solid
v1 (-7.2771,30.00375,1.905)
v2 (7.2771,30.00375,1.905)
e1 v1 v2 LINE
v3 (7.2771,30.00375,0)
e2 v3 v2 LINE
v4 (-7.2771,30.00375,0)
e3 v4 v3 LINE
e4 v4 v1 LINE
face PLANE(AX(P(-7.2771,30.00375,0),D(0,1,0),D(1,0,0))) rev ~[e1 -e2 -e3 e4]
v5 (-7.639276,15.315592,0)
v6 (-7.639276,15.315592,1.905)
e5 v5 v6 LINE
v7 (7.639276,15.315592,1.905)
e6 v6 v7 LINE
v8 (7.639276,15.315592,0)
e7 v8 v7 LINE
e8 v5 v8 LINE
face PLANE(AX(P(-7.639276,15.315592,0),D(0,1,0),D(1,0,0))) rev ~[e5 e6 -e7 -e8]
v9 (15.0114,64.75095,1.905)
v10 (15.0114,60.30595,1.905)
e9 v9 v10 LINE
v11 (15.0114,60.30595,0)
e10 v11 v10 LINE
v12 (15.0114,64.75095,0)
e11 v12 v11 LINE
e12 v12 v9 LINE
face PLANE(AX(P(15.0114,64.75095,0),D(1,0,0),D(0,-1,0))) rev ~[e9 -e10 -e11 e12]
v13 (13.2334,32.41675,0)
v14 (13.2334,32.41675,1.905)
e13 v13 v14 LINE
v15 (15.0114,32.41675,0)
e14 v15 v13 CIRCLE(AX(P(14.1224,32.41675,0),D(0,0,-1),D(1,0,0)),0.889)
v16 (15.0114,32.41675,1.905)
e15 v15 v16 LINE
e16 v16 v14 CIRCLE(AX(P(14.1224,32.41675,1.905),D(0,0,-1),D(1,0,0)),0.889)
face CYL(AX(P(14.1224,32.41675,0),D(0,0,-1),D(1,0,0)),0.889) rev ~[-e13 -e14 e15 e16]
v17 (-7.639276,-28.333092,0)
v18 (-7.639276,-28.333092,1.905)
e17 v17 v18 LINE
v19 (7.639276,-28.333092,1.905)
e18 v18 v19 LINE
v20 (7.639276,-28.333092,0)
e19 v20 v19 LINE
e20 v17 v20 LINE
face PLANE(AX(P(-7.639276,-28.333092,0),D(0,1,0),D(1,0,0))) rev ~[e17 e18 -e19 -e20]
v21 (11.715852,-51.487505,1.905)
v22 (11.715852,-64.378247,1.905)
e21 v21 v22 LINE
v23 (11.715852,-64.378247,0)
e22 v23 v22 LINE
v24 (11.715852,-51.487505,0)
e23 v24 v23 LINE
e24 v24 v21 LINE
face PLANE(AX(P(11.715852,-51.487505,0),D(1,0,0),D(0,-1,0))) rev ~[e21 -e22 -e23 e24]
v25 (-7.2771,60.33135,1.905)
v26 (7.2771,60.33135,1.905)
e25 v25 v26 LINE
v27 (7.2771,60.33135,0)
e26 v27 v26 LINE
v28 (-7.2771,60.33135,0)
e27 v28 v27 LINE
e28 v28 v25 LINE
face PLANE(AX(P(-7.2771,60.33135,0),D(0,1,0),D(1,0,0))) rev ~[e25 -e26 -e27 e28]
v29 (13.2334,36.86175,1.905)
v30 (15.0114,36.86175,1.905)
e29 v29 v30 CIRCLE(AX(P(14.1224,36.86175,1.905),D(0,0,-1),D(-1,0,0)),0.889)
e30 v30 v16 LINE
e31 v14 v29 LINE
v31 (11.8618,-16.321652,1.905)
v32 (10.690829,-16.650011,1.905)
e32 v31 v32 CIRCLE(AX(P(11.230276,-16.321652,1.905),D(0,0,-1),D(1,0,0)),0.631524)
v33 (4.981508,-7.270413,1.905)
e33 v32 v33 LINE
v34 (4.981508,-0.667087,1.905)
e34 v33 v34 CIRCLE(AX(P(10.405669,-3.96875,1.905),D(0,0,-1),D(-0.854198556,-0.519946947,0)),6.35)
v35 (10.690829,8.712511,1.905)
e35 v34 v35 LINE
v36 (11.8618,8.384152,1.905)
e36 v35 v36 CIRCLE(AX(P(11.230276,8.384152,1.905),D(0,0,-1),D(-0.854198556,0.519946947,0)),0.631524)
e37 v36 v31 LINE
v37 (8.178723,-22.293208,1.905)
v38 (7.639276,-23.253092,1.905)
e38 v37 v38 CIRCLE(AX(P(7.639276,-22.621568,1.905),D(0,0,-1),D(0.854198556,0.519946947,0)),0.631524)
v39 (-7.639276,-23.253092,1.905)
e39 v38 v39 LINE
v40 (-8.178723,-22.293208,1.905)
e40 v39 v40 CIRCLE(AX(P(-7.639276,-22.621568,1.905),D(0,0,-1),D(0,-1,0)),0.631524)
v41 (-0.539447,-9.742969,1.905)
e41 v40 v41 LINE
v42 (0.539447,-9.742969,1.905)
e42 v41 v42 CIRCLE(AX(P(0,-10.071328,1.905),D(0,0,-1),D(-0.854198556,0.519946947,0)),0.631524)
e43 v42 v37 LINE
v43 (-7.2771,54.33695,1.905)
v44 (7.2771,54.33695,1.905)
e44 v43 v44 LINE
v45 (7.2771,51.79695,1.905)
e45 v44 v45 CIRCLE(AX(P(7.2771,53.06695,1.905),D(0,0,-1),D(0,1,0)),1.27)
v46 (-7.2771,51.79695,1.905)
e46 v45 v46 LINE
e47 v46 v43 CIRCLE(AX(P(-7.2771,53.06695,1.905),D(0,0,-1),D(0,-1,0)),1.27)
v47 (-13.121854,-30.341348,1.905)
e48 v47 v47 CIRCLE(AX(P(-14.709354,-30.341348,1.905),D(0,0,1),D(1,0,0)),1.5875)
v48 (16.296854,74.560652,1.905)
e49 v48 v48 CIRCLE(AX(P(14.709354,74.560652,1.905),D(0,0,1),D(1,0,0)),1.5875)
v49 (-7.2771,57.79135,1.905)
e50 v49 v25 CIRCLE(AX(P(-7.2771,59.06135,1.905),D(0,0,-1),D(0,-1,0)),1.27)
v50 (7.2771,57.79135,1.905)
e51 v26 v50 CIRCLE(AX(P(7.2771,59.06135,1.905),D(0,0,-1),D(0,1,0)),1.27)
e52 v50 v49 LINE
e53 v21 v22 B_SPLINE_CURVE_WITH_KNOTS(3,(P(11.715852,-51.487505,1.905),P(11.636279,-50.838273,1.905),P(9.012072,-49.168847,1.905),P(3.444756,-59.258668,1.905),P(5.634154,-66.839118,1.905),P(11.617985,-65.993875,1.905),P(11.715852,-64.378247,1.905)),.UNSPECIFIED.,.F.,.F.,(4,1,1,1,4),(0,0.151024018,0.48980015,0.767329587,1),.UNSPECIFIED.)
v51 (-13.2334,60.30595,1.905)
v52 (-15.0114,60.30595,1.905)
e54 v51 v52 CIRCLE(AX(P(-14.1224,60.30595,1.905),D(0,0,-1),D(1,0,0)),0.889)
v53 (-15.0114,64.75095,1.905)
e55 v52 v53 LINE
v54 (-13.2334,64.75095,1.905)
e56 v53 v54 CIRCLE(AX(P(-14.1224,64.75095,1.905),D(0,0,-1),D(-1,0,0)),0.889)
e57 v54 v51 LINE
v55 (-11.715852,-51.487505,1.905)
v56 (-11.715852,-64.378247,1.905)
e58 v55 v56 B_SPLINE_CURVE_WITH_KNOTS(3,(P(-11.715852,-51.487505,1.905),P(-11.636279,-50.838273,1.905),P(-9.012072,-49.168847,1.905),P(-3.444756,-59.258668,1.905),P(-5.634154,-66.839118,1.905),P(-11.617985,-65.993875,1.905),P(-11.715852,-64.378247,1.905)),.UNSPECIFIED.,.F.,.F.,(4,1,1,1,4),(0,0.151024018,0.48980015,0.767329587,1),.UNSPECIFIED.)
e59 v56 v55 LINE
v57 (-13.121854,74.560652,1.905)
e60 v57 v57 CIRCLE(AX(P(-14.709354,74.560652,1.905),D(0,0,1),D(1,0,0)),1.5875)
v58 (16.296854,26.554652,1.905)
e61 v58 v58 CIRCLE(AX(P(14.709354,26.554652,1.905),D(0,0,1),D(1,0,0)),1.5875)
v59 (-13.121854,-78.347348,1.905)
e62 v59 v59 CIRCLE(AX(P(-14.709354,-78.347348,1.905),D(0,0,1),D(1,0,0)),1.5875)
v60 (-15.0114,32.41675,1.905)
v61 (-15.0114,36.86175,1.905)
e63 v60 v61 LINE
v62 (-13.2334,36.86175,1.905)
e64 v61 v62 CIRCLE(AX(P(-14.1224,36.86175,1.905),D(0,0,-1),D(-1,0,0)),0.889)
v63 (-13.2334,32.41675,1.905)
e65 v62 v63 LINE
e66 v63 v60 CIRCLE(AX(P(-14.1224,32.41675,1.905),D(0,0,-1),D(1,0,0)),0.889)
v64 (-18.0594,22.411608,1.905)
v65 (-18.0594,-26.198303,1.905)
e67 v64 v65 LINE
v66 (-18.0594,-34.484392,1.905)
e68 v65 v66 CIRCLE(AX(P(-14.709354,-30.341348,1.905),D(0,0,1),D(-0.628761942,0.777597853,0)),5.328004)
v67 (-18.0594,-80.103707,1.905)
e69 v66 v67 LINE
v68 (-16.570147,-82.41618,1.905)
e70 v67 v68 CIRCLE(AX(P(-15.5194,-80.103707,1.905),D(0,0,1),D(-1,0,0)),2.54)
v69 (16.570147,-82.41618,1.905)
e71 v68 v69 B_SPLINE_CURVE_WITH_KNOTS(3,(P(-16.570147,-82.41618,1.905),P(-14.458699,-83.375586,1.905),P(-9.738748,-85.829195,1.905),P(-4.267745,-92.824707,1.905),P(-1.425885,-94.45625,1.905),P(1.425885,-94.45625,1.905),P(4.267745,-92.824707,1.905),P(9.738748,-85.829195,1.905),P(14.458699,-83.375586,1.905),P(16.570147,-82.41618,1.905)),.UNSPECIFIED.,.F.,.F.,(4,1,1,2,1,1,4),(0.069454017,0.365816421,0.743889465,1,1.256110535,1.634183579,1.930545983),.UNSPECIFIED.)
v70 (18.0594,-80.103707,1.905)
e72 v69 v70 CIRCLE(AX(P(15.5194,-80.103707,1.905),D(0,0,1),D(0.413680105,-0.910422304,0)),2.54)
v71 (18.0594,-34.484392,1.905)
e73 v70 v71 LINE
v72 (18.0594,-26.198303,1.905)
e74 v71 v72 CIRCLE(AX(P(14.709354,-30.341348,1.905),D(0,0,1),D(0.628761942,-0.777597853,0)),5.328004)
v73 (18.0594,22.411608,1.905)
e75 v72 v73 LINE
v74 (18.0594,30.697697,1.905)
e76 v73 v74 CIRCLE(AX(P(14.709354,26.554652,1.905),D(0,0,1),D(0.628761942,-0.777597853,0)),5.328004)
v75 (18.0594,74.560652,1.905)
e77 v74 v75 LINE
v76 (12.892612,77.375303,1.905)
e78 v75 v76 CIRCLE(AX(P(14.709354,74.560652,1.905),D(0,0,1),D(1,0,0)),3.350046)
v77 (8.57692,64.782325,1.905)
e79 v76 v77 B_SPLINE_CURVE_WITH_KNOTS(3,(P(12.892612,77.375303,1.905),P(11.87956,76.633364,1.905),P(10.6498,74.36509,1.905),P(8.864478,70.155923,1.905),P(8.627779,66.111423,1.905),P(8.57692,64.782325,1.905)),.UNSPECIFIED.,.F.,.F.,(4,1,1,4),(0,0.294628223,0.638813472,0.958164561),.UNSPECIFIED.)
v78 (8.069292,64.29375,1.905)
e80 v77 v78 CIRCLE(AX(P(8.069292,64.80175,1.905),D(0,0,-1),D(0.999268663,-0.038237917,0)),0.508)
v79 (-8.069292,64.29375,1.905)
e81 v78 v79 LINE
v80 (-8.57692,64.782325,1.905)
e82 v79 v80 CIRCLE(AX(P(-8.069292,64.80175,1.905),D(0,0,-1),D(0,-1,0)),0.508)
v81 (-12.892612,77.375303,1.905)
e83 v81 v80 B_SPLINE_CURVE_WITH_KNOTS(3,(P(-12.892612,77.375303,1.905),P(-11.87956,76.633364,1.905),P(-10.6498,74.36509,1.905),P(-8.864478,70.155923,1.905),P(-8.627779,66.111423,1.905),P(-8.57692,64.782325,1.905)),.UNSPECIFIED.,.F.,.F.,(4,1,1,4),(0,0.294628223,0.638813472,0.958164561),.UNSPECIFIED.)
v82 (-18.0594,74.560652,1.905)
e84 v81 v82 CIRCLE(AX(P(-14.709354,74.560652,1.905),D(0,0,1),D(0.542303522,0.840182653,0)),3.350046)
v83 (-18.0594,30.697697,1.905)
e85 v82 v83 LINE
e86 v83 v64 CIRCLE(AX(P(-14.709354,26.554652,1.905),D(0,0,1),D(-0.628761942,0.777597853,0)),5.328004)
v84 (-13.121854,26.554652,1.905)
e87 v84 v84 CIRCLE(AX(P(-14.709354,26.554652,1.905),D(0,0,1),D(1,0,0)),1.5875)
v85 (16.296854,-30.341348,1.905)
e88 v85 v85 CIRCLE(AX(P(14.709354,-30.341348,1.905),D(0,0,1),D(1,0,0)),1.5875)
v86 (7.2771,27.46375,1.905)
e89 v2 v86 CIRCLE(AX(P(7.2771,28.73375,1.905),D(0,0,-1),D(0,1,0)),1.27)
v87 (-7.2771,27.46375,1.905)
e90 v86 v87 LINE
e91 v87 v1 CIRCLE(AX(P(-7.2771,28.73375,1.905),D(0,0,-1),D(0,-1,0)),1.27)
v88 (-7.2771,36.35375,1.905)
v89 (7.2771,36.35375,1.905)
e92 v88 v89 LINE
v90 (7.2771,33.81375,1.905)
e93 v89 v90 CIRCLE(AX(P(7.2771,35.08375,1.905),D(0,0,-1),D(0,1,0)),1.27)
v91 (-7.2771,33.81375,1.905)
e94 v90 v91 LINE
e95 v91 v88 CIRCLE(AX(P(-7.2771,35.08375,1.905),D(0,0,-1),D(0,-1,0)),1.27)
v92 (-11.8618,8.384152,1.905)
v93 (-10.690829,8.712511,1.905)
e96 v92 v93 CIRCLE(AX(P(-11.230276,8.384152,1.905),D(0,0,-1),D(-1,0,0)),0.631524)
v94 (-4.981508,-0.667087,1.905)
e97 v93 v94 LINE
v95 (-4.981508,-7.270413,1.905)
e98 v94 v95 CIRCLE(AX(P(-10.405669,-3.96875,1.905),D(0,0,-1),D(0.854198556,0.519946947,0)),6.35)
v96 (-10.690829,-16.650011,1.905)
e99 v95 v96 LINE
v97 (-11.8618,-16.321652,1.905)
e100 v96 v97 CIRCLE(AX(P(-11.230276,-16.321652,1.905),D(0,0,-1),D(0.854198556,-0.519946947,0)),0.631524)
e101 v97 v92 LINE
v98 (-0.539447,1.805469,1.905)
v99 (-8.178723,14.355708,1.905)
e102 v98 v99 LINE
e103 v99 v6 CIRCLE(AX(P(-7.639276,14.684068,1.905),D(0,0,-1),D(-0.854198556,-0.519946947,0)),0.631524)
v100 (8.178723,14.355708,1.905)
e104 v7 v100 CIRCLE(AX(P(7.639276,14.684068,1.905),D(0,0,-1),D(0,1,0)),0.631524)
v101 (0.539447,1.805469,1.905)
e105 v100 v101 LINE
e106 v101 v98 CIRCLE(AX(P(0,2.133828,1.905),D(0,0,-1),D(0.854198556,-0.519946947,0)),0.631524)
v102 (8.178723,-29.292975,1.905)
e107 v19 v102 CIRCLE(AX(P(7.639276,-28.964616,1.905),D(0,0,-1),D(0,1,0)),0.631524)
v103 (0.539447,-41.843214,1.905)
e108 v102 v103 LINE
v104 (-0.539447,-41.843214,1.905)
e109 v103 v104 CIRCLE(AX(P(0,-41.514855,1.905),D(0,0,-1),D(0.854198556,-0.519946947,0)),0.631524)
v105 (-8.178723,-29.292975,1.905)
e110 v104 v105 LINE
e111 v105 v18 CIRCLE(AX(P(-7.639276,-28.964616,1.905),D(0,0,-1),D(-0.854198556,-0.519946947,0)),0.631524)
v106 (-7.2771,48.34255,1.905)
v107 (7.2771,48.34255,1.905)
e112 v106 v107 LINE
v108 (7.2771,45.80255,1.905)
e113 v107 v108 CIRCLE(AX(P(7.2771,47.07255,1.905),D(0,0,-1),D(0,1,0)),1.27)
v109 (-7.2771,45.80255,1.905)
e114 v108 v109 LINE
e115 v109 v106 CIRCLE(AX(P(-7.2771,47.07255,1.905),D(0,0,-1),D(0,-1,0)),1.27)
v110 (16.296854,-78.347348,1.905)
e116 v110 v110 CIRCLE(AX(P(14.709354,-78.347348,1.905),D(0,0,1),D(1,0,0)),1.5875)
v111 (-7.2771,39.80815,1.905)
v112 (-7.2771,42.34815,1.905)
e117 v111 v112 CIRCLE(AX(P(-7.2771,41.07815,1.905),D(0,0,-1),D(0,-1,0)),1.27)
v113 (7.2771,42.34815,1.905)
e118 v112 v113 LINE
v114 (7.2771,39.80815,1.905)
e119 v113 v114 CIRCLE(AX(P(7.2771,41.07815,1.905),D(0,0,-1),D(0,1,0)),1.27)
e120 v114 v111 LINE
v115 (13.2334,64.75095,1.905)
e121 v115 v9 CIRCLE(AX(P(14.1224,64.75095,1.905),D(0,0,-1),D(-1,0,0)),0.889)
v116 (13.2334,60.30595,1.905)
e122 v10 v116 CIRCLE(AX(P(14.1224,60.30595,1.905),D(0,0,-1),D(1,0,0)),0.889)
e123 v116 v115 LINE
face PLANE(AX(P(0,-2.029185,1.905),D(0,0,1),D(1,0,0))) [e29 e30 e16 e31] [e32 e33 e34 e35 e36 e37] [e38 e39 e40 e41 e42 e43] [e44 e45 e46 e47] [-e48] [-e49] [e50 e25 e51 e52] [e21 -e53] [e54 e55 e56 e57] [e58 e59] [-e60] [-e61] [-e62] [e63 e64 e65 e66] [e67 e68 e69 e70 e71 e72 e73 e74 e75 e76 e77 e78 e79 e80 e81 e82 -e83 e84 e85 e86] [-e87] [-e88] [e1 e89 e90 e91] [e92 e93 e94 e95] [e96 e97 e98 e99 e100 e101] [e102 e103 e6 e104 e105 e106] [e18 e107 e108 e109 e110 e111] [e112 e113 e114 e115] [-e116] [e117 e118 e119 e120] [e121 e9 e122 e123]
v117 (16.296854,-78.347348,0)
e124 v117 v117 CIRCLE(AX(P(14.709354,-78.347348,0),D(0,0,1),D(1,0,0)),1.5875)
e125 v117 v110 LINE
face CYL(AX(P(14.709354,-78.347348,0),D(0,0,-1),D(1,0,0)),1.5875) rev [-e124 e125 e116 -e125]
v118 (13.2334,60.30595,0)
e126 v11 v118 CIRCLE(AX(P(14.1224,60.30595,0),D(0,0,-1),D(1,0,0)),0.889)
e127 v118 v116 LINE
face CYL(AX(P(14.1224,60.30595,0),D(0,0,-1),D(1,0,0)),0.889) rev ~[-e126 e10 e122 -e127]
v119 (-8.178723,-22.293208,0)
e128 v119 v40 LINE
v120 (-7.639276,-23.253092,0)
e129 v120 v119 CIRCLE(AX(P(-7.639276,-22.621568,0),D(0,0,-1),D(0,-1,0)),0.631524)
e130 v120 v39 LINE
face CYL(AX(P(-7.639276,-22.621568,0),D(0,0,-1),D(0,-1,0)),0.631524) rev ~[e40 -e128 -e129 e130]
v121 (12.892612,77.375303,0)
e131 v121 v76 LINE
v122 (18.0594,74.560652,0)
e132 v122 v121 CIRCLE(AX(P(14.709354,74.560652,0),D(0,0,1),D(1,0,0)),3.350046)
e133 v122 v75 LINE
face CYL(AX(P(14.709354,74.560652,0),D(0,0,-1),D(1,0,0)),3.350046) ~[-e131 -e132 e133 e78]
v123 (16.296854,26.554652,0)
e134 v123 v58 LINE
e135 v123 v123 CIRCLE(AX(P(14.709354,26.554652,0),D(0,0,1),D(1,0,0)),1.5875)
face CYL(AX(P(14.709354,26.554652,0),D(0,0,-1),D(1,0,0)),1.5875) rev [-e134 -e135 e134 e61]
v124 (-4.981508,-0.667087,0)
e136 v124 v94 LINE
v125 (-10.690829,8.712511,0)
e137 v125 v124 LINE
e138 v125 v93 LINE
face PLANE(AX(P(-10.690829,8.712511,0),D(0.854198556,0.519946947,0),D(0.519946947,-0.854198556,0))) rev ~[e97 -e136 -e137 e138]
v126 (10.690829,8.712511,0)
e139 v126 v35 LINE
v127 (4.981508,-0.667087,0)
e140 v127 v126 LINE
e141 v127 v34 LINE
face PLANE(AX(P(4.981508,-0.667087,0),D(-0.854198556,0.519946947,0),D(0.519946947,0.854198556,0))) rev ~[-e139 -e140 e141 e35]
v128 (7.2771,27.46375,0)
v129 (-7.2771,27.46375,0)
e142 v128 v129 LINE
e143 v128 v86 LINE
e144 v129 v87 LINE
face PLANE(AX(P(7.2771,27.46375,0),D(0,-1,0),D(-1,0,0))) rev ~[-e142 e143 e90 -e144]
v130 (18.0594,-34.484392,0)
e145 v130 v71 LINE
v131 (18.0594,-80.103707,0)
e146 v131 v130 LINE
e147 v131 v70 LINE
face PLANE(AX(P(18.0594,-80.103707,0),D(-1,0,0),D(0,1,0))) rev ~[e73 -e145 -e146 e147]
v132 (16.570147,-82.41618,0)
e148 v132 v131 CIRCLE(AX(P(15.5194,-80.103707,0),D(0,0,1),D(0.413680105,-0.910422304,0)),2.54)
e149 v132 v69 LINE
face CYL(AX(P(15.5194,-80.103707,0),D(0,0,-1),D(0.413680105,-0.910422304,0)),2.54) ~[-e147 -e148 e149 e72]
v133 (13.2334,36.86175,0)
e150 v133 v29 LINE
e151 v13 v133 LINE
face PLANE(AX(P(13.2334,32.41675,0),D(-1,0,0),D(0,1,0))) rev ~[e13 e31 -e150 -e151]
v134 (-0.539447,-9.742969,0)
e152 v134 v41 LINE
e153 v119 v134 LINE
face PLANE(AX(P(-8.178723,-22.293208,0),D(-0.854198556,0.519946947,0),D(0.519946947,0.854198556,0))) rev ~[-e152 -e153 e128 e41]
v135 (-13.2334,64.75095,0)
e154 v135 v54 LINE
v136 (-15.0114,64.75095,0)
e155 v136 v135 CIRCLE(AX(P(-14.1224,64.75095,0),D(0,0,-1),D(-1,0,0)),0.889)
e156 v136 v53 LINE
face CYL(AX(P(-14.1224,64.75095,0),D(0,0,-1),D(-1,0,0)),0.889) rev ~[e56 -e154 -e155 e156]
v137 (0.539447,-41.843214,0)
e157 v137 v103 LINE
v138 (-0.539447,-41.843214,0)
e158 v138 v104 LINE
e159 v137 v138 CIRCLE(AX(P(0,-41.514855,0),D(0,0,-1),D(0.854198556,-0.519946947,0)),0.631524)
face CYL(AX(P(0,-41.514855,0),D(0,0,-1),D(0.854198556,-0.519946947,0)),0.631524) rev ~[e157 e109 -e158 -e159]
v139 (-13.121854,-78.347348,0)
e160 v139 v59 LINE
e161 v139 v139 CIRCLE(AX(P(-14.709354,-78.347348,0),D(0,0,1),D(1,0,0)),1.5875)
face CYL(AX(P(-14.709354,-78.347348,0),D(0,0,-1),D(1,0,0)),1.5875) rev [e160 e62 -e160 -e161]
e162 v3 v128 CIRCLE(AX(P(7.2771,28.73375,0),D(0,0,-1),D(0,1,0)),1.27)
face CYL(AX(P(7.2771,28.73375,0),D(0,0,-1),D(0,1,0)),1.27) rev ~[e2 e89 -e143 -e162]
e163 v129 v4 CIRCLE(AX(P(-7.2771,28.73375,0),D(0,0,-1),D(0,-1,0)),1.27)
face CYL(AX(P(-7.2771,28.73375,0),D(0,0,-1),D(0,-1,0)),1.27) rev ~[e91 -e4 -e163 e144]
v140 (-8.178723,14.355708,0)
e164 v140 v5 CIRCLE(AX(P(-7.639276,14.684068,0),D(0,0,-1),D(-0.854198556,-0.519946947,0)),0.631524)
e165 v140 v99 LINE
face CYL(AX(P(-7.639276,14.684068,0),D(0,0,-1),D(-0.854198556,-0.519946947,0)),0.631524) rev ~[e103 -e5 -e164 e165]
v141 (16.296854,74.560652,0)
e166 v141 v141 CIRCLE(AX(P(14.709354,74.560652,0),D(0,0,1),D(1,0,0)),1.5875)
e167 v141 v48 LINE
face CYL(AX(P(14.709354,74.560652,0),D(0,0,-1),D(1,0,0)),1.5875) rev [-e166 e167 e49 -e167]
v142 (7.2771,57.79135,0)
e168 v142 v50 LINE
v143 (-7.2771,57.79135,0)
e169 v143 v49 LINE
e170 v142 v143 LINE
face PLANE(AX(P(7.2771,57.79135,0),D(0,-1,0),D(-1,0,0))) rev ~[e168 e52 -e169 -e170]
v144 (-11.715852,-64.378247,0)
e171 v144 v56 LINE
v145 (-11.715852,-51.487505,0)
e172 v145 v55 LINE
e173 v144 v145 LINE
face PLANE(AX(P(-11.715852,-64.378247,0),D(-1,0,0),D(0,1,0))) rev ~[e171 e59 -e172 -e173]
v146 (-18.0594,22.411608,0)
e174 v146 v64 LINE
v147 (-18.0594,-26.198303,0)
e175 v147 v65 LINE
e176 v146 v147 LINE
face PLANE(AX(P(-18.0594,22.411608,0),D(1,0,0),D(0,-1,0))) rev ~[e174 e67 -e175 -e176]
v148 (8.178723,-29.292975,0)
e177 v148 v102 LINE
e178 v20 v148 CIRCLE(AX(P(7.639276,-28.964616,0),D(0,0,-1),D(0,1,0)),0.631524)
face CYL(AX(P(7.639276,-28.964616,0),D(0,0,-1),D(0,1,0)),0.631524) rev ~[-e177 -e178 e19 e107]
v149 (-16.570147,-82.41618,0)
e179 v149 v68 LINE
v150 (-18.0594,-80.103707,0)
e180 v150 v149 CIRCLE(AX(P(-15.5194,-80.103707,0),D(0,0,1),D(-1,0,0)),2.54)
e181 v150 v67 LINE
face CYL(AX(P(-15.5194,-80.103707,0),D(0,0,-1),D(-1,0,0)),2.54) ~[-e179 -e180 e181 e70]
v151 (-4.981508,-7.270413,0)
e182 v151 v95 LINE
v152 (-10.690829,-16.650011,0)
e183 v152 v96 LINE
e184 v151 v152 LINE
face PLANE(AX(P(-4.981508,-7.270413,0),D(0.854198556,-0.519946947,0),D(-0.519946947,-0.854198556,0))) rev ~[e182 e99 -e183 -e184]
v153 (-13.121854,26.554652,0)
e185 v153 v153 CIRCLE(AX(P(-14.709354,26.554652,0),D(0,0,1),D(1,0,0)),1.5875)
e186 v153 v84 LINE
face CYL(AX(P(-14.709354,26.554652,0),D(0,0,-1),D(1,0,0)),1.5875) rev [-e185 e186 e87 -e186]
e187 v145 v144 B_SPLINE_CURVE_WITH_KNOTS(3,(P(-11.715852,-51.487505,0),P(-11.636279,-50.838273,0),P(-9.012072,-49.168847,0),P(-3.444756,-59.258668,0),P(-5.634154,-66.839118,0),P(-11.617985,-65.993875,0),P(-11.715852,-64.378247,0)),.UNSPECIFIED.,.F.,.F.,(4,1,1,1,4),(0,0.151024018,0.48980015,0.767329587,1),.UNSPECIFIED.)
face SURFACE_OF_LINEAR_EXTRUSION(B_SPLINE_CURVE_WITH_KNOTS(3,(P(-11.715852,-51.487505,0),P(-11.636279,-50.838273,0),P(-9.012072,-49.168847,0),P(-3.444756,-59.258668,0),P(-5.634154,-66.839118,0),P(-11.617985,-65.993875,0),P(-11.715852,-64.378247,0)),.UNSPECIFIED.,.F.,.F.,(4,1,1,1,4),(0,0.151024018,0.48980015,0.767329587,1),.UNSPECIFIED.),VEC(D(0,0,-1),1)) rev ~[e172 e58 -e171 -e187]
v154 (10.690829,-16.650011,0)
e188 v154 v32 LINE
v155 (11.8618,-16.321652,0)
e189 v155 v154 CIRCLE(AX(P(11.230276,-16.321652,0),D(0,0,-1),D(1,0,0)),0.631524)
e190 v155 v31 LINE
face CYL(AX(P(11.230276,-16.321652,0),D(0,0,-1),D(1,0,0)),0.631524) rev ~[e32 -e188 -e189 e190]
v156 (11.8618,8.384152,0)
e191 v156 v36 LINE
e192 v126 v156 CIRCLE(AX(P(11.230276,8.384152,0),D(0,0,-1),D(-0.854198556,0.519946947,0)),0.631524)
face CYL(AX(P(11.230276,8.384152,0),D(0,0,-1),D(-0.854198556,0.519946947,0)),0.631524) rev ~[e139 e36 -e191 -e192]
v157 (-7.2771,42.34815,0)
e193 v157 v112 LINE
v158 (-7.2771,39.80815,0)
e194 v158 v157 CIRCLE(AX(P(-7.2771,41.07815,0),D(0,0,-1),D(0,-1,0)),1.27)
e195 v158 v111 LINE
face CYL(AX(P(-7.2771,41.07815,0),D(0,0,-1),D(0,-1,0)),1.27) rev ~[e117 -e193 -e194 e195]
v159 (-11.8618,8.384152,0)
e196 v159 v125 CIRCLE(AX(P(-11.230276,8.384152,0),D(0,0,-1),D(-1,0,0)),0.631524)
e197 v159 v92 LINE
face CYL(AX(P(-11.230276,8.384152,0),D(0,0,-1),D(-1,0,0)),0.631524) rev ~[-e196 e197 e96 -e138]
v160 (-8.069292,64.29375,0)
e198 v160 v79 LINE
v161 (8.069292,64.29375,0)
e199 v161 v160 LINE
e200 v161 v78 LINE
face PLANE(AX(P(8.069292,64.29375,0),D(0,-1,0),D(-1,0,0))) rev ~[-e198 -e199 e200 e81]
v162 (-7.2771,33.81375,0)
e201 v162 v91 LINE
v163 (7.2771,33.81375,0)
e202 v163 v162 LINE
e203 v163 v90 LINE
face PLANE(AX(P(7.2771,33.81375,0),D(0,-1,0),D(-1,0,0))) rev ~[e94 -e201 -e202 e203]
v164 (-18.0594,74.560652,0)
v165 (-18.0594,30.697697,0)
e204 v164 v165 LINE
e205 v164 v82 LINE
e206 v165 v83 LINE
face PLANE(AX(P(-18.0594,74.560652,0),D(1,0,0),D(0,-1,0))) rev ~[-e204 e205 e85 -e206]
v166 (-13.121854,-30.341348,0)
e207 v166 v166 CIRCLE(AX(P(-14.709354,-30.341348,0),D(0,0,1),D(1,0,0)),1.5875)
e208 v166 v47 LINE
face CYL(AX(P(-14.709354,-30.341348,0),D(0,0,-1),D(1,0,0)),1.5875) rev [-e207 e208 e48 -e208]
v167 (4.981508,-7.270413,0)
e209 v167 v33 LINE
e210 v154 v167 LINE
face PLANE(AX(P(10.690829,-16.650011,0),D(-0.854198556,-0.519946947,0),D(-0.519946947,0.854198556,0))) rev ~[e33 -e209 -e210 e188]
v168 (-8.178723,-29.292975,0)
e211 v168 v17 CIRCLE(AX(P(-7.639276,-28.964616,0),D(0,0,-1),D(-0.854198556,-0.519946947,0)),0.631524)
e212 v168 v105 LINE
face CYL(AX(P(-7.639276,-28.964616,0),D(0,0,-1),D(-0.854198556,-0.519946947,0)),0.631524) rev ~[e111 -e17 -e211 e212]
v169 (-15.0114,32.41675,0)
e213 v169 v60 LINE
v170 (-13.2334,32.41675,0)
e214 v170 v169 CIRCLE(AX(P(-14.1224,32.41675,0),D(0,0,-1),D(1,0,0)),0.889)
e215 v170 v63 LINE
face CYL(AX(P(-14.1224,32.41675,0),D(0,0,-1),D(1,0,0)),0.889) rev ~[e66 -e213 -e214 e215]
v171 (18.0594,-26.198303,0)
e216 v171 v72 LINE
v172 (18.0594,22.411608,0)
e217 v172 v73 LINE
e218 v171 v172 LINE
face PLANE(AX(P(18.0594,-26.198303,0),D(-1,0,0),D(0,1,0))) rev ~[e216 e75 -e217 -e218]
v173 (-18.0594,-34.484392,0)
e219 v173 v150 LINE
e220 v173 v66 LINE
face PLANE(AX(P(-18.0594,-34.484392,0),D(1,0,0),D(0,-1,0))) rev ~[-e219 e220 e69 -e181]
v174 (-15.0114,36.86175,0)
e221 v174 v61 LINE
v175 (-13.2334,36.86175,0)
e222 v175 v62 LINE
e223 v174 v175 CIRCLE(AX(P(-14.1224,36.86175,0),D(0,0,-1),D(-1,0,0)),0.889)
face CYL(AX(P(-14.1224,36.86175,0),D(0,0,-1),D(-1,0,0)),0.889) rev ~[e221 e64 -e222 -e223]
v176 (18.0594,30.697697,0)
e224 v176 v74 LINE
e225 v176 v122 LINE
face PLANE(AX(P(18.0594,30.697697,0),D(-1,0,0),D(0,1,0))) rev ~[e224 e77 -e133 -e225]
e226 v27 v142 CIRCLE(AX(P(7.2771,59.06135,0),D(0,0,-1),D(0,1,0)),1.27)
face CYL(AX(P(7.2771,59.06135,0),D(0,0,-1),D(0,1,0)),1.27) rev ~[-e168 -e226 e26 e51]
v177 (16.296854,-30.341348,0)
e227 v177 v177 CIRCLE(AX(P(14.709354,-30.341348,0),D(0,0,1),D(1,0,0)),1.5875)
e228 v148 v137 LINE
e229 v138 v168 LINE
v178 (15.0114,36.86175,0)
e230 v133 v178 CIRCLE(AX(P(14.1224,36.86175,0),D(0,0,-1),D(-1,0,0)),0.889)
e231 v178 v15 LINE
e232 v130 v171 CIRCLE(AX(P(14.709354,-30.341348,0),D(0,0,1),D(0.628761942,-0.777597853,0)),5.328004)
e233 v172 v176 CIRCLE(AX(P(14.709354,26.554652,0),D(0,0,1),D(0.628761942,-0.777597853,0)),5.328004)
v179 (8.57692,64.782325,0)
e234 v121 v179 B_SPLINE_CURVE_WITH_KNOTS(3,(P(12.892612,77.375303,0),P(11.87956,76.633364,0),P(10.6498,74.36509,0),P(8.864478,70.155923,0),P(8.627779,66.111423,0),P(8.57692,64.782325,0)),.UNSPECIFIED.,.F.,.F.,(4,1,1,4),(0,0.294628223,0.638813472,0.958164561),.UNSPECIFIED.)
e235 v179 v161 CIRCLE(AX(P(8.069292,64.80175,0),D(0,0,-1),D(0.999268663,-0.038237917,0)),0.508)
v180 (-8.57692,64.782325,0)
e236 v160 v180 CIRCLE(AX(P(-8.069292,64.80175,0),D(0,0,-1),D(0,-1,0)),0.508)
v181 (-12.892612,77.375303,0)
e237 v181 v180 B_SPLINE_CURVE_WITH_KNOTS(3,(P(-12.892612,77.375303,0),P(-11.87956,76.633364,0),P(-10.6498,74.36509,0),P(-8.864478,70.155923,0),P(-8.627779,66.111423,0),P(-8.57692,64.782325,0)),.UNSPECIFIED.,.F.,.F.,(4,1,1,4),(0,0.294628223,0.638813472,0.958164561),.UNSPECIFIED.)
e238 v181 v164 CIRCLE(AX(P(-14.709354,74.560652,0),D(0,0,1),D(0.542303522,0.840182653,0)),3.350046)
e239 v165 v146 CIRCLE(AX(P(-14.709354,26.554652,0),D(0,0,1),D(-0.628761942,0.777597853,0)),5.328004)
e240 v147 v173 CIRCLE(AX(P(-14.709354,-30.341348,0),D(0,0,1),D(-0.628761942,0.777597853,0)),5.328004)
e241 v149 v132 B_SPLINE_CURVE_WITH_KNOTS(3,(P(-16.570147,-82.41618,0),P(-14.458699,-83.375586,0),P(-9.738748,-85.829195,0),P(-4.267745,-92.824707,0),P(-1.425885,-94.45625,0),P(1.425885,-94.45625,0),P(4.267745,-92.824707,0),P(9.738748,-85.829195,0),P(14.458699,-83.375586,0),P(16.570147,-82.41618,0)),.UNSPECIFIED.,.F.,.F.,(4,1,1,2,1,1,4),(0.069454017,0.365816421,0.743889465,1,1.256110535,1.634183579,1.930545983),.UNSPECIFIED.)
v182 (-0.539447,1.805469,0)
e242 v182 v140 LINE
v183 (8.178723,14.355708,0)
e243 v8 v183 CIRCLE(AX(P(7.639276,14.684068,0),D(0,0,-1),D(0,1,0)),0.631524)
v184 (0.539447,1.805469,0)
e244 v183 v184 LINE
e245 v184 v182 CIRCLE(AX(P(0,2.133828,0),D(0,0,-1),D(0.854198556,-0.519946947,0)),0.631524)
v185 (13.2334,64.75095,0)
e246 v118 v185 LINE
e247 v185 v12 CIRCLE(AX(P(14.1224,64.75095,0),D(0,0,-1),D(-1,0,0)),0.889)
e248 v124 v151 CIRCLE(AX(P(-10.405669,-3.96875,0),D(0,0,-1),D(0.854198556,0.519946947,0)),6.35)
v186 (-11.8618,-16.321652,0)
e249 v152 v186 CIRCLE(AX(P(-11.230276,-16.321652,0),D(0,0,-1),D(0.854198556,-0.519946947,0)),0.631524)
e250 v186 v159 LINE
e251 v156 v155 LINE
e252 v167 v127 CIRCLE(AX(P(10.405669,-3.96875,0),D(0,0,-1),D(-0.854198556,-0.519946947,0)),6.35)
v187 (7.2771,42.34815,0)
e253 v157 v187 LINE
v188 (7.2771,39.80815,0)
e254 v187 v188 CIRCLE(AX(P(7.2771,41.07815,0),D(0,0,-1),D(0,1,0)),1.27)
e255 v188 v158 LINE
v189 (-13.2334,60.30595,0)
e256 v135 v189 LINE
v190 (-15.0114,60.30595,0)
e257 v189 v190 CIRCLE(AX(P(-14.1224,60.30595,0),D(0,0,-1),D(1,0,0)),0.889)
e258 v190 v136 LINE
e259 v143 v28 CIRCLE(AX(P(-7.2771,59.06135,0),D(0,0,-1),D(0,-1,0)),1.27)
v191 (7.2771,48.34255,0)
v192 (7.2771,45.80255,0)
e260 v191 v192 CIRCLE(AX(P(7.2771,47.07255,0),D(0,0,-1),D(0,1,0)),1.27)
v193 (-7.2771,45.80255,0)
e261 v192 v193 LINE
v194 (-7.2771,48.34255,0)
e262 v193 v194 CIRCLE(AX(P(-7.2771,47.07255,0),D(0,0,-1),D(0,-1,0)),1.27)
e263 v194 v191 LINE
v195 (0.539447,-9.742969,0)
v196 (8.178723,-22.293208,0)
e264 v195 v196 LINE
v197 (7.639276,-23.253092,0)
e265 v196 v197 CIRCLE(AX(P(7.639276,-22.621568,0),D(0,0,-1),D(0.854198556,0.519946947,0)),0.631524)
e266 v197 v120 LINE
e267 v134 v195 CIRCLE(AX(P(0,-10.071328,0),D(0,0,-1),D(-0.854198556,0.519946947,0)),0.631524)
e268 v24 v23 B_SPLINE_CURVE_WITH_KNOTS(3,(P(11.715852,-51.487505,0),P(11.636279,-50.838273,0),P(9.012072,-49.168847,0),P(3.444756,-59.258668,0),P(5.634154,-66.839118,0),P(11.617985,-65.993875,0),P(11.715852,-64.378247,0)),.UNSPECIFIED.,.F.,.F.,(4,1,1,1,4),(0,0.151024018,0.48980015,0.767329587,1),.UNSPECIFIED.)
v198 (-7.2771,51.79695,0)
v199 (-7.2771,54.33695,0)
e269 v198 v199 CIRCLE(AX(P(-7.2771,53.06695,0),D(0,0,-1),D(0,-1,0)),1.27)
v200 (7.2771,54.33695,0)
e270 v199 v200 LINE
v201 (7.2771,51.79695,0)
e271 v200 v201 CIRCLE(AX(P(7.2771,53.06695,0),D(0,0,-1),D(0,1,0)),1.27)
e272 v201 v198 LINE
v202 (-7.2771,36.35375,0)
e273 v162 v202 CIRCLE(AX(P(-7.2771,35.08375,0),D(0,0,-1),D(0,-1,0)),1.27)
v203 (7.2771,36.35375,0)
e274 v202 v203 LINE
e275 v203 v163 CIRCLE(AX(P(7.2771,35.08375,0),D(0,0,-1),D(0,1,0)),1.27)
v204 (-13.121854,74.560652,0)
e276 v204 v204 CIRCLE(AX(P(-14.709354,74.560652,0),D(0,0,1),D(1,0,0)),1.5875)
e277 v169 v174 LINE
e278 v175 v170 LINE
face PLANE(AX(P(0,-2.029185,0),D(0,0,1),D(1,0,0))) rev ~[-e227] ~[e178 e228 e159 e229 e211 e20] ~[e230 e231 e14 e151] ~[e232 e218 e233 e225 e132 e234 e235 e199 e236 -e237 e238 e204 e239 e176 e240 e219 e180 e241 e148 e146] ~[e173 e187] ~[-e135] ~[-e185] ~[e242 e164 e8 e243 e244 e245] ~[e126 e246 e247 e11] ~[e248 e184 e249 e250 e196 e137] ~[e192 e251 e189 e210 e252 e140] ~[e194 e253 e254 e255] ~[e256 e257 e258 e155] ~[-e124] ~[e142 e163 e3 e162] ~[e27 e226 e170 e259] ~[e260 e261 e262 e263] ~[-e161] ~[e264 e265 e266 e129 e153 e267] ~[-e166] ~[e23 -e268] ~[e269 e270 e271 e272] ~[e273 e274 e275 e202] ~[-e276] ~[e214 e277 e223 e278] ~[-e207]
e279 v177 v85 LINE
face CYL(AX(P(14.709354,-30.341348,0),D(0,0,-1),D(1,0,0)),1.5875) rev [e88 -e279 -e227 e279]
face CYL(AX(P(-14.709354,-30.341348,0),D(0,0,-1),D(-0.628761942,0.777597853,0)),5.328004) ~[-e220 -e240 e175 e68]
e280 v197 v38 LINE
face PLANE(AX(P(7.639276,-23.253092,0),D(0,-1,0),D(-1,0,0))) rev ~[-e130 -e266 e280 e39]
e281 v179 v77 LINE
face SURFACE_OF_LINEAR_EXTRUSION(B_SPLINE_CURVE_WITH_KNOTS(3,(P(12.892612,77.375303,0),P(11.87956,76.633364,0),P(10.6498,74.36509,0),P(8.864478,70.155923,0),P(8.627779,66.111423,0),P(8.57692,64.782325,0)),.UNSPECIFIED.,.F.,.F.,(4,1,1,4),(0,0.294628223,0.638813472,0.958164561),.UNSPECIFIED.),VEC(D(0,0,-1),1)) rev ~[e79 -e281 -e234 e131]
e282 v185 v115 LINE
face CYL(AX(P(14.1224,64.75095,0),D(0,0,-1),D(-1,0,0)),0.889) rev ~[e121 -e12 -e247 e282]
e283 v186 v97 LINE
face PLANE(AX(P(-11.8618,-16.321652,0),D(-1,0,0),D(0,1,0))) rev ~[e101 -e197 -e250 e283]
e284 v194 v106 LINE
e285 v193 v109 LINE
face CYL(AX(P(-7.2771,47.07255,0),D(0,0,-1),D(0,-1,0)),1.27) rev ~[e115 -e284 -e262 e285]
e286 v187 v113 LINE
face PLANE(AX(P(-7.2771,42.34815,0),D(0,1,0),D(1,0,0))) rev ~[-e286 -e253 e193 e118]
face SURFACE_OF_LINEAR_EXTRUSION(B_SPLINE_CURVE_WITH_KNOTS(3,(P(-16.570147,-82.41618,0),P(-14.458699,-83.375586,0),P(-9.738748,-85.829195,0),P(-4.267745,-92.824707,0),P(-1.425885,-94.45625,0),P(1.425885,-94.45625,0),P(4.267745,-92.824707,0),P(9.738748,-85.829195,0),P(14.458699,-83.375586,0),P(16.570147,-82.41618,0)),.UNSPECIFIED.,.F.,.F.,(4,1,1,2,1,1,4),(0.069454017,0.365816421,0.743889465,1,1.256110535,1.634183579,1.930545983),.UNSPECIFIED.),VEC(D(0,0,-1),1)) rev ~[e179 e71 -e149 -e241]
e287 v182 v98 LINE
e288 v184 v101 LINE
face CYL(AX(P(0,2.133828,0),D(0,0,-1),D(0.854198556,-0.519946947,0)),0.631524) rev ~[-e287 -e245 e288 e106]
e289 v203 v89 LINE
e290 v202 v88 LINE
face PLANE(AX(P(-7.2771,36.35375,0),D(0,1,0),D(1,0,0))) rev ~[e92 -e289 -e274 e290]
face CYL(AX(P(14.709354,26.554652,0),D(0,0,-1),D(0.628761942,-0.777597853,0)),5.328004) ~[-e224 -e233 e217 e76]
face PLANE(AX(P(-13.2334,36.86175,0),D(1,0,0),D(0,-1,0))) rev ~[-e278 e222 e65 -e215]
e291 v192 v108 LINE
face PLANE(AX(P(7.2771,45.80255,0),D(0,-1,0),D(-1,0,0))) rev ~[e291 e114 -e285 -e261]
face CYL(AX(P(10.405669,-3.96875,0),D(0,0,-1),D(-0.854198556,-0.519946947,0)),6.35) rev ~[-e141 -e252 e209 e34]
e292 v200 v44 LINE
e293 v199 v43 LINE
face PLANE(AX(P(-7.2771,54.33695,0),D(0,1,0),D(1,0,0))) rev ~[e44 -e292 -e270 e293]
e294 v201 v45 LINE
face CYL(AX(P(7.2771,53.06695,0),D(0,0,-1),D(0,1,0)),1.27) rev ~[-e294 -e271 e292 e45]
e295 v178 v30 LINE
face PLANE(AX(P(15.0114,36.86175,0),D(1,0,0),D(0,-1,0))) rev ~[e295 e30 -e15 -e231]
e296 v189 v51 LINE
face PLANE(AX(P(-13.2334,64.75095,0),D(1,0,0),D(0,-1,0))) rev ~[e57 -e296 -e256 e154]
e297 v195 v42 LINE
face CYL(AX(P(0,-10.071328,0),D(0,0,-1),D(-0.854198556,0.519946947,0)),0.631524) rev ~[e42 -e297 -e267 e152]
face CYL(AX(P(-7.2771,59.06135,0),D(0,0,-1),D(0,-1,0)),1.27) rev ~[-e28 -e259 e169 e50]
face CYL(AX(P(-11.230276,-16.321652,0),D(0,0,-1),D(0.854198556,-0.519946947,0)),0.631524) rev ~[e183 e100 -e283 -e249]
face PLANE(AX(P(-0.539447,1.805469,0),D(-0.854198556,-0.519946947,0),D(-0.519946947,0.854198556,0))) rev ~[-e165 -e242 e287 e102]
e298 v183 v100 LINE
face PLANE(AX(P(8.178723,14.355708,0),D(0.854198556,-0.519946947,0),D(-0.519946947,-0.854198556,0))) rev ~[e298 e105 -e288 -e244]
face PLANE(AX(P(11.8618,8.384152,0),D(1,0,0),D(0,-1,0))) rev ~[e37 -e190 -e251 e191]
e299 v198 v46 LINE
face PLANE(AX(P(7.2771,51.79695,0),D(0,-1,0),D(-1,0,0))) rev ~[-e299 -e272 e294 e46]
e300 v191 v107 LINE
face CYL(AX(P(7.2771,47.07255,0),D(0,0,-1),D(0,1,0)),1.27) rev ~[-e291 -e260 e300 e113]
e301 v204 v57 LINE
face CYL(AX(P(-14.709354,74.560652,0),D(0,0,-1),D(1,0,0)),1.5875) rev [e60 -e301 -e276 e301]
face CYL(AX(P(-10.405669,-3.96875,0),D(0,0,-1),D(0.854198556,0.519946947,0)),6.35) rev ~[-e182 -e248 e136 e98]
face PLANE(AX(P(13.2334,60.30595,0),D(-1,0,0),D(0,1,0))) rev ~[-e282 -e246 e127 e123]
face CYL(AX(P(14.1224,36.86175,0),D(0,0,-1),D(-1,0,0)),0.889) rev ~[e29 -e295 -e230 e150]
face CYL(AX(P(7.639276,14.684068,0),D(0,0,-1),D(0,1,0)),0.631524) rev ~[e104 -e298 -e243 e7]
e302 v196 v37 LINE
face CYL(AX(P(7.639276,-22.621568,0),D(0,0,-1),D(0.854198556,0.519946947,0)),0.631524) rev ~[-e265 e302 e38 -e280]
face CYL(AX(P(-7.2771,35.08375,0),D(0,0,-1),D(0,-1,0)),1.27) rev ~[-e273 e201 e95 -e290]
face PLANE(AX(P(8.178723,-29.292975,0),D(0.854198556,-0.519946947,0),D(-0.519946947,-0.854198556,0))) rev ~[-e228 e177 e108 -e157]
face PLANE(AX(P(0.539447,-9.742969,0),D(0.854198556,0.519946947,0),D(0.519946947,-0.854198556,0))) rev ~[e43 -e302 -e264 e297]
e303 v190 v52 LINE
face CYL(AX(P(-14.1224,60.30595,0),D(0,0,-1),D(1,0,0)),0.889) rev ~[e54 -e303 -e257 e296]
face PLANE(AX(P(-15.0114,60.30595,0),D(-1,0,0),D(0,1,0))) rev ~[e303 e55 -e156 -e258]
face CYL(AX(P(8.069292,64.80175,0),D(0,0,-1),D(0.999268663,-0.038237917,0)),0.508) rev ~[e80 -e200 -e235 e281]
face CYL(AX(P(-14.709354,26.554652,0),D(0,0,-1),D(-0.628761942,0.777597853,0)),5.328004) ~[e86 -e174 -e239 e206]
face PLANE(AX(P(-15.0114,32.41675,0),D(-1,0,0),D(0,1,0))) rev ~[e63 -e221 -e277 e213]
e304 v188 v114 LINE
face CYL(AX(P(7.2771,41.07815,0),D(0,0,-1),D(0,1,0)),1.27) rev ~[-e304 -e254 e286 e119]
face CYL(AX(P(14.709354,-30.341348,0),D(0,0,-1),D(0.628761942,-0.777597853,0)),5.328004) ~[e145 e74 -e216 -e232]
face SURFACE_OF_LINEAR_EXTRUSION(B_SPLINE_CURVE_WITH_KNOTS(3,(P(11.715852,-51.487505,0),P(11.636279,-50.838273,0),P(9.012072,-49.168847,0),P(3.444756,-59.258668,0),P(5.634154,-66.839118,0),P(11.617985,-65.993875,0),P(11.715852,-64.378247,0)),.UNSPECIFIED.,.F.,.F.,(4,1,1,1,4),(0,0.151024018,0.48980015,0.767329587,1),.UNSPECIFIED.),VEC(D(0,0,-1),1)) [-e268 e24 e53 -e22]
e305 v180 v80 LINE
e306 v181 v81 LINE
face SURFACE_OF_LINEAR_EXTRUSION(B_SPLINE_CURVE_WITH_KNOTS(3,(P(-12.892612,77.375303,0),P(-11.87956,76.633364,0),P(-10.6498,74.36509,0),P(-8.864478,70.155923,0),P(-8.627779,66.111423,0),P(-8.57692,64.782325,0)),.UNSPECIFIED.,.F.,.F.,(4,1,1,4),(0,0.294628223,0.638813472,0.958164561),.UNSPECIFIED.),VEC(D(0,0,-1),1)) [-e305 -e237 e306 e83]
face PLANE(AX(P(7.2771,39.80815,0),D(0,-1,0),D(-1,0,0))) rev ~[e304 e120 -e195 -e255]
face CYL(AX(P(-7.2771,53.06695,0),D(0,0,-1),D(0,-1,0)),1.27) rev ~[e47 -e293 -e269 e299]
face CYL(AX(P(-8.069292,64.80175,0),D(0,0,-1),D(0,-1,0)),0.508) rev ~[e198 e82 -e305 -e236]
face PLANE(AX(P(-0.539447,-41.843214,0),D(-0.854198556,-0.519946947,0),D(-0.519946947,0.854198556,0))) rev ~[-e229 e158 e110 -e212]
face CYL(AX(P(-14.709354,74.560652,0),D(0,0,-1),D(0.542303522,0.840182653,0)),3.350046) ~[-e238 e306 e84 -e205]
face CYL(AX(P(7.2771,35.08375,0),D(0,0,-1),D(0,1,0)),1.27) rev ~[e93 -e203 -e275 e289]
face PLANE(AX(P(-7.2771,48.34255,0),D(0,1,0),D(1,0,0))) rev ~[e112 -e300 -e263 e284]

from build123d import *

# Parameters (mm, degrees)
F0_R     = 1.5875
F1_DEPTH = 1.905


with BuildPart() as f1:
    # F0 (on Top) → F1 (new body)
    with BuildSketch(Plane.XY):
        with BuildLine():
            Line((0, 64.29375), (-8.0692915369, 64.29375))
            ThreePointArc((-8.0692915369, 64.29375), (-8.4215671181, 64.4357364554), (-8.5769200179, 64.7823251383))
            add(Edge.make_bspline(
                [(-12.8926122561, 77.3753028588), (-11.8795596063, 76.6333639622), (-10.6498003247, 74.3650900179), (-8.8644784875, 70.1559227515), (-8.62777916, 66.1114233554), (-8.5769200179, 64.7823251383)],
                knots=[0, 0, 0, 0, 0.2946282226, 0.6388134724, 0.9581645609, 0.9581645609, 0.9581645609, 0.9581645609], degree=3))
            ThreePointArc((-12.8926122561, 77.3753028588), (-16.3119518581, 77.5025034933), (-18.0594, 74.5606523232))
            Line((-18.0594, 74.5606523232), (-18.0594, 64.29375))
            Line((-18.0594, 64.29375), (-18.0594, 30.6976966178))
            ThreePointArc((-18.0594, 30.6976966178), (-20.0373577753, 26.5546523232), (-18.0594, 22.4116080287))
            Line((-18.0594, 22.4116080287), (-18.0594, -26.1983033822))
            ThreePointArc((-18.0594, -26.1983033822), (-20.0373577753, -30.3413476768), (-18.0594, -34.4843919713))
            Line((-18.0594, -34.4843919713), (-18.0594, -80.1037074902))
            ThreePointArc((-18.0594, -80.1037074902), (-17.6548740182, -81.4789713622), (-16.5701474664, -82.4161801412))
            add(Edge.make_bspline(
                [(-16.5701474664, -82.4161801412), (-14.4586989248, -83.3755857388), (-9.7387477796, -85.8291950608), (-4.2677450179, -92.8247066324), (-1.4258848779, -94.45625), (0, -94.45625)],
                knots=[0.0694540172, 0.0694540172, 0.0694540172, 0.0694540172, 0.3658164206, 0.7438894649, 1, 1, 1, 1], degree=3))
            add(Edge.make_bspline(
                [(16.5701474664, -82.4161801412), (14.4586989248, -83.3755857388), (9.7387477796, -85.8291950608), (4.2677450179, -92.8247066324), (1.4258848779, -94.45625), (0, -94.45625)],
                knots=[0.0694540172, 0.0694540172, 0.0694540172, 0.0694540172, 0.3658164206, 0.7438894649, 1, 1, 1, 1], degree=3))
            ThreePointArc((16.5701474664, -82.4161801412), (17.6548740182, -81.4789713622), (18.0594, -80.1037074902))
            Line((18.0594, -80.1037074902), (18.0594, -34.4843919713))
            ThreePointArc((18.0594, -34.4843919713), (20.0373577753, -30.3413476768), (18.0594, -26.1983033822))
            Line((18.0594, -26.1983033822), (18.0594, 22.4116080287))
            ThreePointArc((18.0594, 22.4116080287), (20.0373577753, 26.5546523232), (18.0594, 30.6976966178))
            Line((18.0594, 30.6976966178), (18.0594, 64.29375))
            Line((18.0594, 64.29375), (18.0594, 74.5606523232))
            ThreePointArc((18.0594, 74.5606523232), (16.3119518581, 77.5025034933), (12.8926122561, 77.3753028588))
            add(Edge.make_bspline(
                [(12.8926122561, 77.3753028588), (11.8795596063, 76.6333639622), (10.6498003247, 74.3650900179), (8.8644784875, 70.1559227515), (8.62777916, 66.1114233554), (8.5769200179, 64.7823251383)],
                knots=[0, 0, 0, 0, 0.2946282226, 0.6388134724, 0.9581645609, 0.9581645609, 0.9581645609, 0.9581645609], degree=3))
            ThreePointArc((8.5769200179, 64.7823251383), (8.4215671181, 64.4357364554), (8.0692915369, 64.29375))
            Line((8.0692915369, 64.29375), (0, 64.29375))
        make_face()
        with Locations((-14.709354, -78.3473476768)):
            Circle(F0_R, mode=Mode.SUBTRACT)
        with BuildLine():
            add(Edge.make_bspline(
                [(-11.7158517241, -51.4875054359), (-11.6362785921, -50.8382730186), (-9.0120722077, -49.1688466521), (-3.4447561973, -59.2586678764), (-5.6341544406, -66.8391176817), (-11.6179846227, -65.9938752651), (-11.7158517241, -64.378246665)],
                knots=[0, 0, 0, 0, 0.1510240185, 0.4898001497, 0.7673295867, 1, 1, 1, 1], degree=3))
            Line((-11.7158517241, -64.378246665), (-11.7158517241, -51.4875054359))
        make_face(mode=Mode.SUBTRACT)
        with Locations((-14.709354, -30.3413476768)):
            Circle(F0_R, mode=Mode.SUBTRACT)
        with BuildLine():
            add(Edge.make_bspline(
                [(11.7158517241, -51.4875054359), (11.6362785921, -50.8382730186), (9.0120722077, -49.1688466521), (3.4447561973, -59.2586678764), (5.6341544406, -66.8391176817), (11.6179846227, -65.9938752651), (11.7158517241, -64.378246665)],
                knots=[0, 0, 0, 0, 0.1510240185, 0.4898001497, 0.7673295867, 1, 1, 1, 1], degree=3))
            Line((11.7158517241, -51.4875054359), (11.7158517241, -64.378246665))
        make_face(mode=Mode.SUBTRACT)
        with Locations((14.709354, -78.3473476768)):
            Circle(F0_R, mode=Mode.SUBTRACT)
        with BuildLine():
            Line((0, -28.3330918644), (7.6392760586, -28.3330918644))
            ThreePointArc((7.6392760586, -28.3330918644), (8.1898165346, -28.6552165867), (8.1787231675, -29.292975232))
            Line((8.1787231675, -29.292975232), (0.5394471089, -41.8432144712))
            ThreePointArc((0.5394471089, -41.8432144712), (0, -42.1463796193), (-0.5394471089, -41.8432144712))
            Line((-0.5394471089, -41.8432144712), (-8.1787231675, -29.292975232))
            ThreePointArc((-8.1787231675, -29.292975232), (-8.1898165346, -28.6552165867), (-7.6392760586, -28.3330918644))
            Line((-7.6392760586, -28.3330918644), (0, -28.3330918644))
        make_face(mode=Mode.SUBTRACT)
        with BuildLine():
            Line((-8.1787231675, -22.2932084967), (-0.5394471089, -9.7429692576))
            ThreePointArc((-0.5394471089, -9.7429692576), (0, -9.4398041095), (0.5394471089, -9.7429692576))
            Line((0.5394471089, -9.7429692576), (8.1787231675, -22.2932084967))
            ThreePointArc((8.1787231675, -22.2932084967), (8.1898165346, -22.930967142), (7.6392760586, -23.2530918644))
            Line((7.6392760586, -23.2530918644), (0, -23.2530918644))
            Line((0, -23.2530918644), (-7.6392760586, -23.2530918644))
            ThreePointArc((-7.6392760586, -23.2530918644), (-8.1898165346, -22.930967142), (-8.1787231675, -22.2932084967))
        make_face(mode=Mode.SUBTRACT)
        with Locations((14.709354, -30.3413476768)):
            Circle(F0_R, mode=Mode.SUBTRACT)
        with Locations((-14.709354, 26.5546523232)):
            Circle(F0_R, mode=Mode.SUBTRACT)
        with BuildLine():
            ThreePointArc((-15.0114, 36.86175), (-14.1224, 37.75075), (-13.2334, 36.86175))
            Line((-13.2334, 36.86175), (-13.2334, 32.41675))
            ThreePointArc((-13.2334, 32.41675), (-14.1224, 31.52775), (-15.0114, 32.41675))
            Line((-15.0114, 32.41675), (-15.0114, 36.86175))
        make_face(mode=Mode.SUBTRACT)
        with BuildLine():
            Line((-11.8618, -16.3216522163), (-11.8618, 8.3841522163))
            ThreePointArc((-11.8618, 8.3841522163), (-11.4007881364, 8.9922216298), (-10.6908286332, 8.712511326))
            Line((-10.6908286332, 8.712511326), (-4.9815079817, -0.6670868872))
            ThreePointArc((-4.9815079817, -0.6670868872), (-4.0556688098, -3.96875), (-4.9815079817, -7.2704131128))
            Line((-4.9815079817, -7.2704131128), (-10.6908286332, -16.650011326))
            ThreePointArc((-10.6908286332, -16.650011326), (-11.4007881364, -16.9297216298), (-11.8618, -16.3216522163))
        make_face(mode=Mode.SUBTRACT)
        with BuildLine():
            ThreePointArc((-15.0114, 64.75095), (-14.1224, 65.63995), (-13.2334, 64.75095))
            Line((-13.2334, 64.75095), (-13.2334, 60.30595))
            ThreePointArc((-13.2334, 60.30595), (-14.1224, 59.41695), (-15.0114, 60.30595))
            Line((-15.0114, 60.30595), (-15.0114, 64.75095))
        make_face(mode=Mode.SUBTRACT)
        with Locations((-14.709354, 74.5606523232)):
            Circle(F0_R, mode=Mode.SUBTRACT)
        with BuildLine():
            ThreePointArc((0.5394471089, 1.8054692576), (0, 1.5023041095), (-0.5394471089, 1.8054692576))
            Line((-0.5394471089, 1.8054692576), (-8.1787231675, 14.3557084967))
            ThreePointArc((-8.1787231675, 14.3557084967), (-8.1898165346, 14.993467142), (-7.6392760586, 15.3155918644))
            Line((-7.6392760586, 15.3155918644), (0, 15.3155918644))
            Line((0, 15.3155918644), (7.6392760586, 15.3155918644))
            ThreePointArc((7.6392760586, 15.3155918644), (8.1898165346, 14.993467142), (8.1787231675, 14.3557084967))
            Line((8.1787231675, 14.3557084967), (0.5394471089, 1.8054692576))
        make_face(mode=Mode.SUBTRACT)
        with BuildLine():
            ThreePointArc((4.9815079817, -7.2704131128), (4.0556688098, -3.96875), (4.9815079817, -0.6670868872))
            Line((4.9815079817, -0.6670868872), (10.6908286332, 8.712511326))
            ThreePointArc((10.6908286332, 8.712511326), (11.4007881364, 8.9922216298), (11.8618, 8.3841522163))
            Line((11.8618, 8.3841522163), (11.8618, -16.3216522163))
            ThreePointArc((11.8618, -16.3216522163), (11.4007881364, -16.9297216298), (10.6908286332, -16.650011326))
            Line((10.6908286332, -16.650011326), (4.9815079817, -7.2704131128))
        make_face(mode=Mode.SUBTRACT)
        with BuildLine():
            Line((-7.2771, 30.00375), (0, 30.00375))
            Line((0, 30.00375), (7.2771, 30.00375))
            ThreePointArc((7.2771, 30.00375), (8.5471, 28.73375), (7.2771, 27.46375))
            Line((7.2771, 27.46375), (0, 27.46375))
            Line((0, 27.46375), (-7.2771, 27.46375))
            ThreePointArc((-7.2771, 27.46375), (-8.5471, 28.73375), (-7.2771, 30.00375))
        make_face(mode=Mode.SUBTRACT)
        with Locations((14.709354, 26.5546523232)):
            Circle(F0_R, mode=Mode.SUBTRACT)
        with BuildLine():
            Line((13.2334, 32.41675), (13.2334, 36.86175))
            ThreePointArc((13.2334, 36.86175), (14.1224, 37.75075), (15.0114, 36.86175))
            Line((15.0114, 36.86175), (15.0114, 32.41675))
            ThreePointArc((15.0114, 32.41675), (14.1224, 31.52775), (13.2334, 32.41675))
        make_face(mode=Mode.SUBTRACT)
        with BuildLine():
            ThreePointArc((-7.2771, 33.81375), (-8.5471, 35.08375), (-7.2771, 36.35375))
            Line((-7.2771, 36.35375), (0, 36.35375))
            Line((0, 36.35375), (7.2771, 36.35375))
            ThreePointArc((7.2771, 36.35375), (8.5471, 35.08375), (7.2771, 33.81375))
            Line((7.2771, 33.81375), (0, 33.81375))
            Line((0, 33.81375), (-7.2771, 33.81375))
        make_face(mode=Mode.SUBTRACT)
        with BuildLine():
            Line((0, 42.34815), (7.2771, 42.34815))
            ThreePointArc((7.2771, 42.34815), (8.5471, 41.07815), (7.2771, 39.80815))
            Line((7.2771, 39.80815), (0, 39.80815))
            Line((0, 39.80815), (-7.2771, 39.80815))
            ThreePointArc((-7.2771, 39.80815), (-8.5471, 41.07815), (-7.2771, 42.34815))
            Line((-7.2771, 42.34815), (0, 42.34815))
        make_face(mode=Mode.SUBTRACT)
        with BuildLine():
            Line((0, 48.34255), (7.2771, 48.34255))
            ThreePointArc((7.2771, 48.34255), (8.5471, 47.07255), (7.2771, 45.80255))
            Line((7.2771, 45.80255), (0, 45.80255))
            Line((0, 45.80255), (-7.2771, 45.80255))
            ThreePointArc((-7.2771, 45.80255), (-8.5471, 47.07255), (-7.2771, 48.34255))
            Line((-7.2771, 48.34255), (0, 48.34255))
        make_face(mode=Mode.SUBTRACT)
        with BuildLine():
            Line((0, 54.33695), (7.2771, 54.33695))
            ThreePointArc((7.2771, 54.33695), (8.5471, 53.06695), (7.2771, 51.79695))
            Line((7.2771, 51.79695), (0, 51.79695))
            Line((0, 51.79695), (-7.2771, 51.79695))
            ThreePointArc((-7.2771, 51.79695), (-8.5471, 53.06695), (-7.2771, 54.33695))
            Line((-7.2771, 54.33695), (0, 54.33695))
        make_face(mode=Mode.SUBTRACT)
        with BuildLine():
            Line((0, 60.33135), (7.2771, 60.33135))
            ThreePointArc((7.2771, 60.33135), (8.5471, 59.06135), (7.2771, 57.79135))
            Line((7.2771, 57.79135), (0, 57.79135))
            Line((0, 57.79135), (-7.2771, 57.79135))
            ThreePointArc((-7.2771, 57.79135), (-8.5471, 59.06135), (-7.2771, 60.33135))
            Line((-7.2771, 60.33135), (0, 60.33135))
        make_face(mode=Mode.SUBTRACT)
        with BuildLine():
            Line((13.2334, 60.30595), (13.2334, 64.75095))
            ThreePointArc((13.2334, 64.75095), (14.1224, 65.63995), (15.0114, 64.75095))
            Line((15.0114, 64.75095), (15.0114, 60.30595))
            ThreePointArc((15.0114, 60.30595), (14.1224, 59.41695), (13.2334, 60.30595))
        make_face(mode=Mode.SUBTRACT)
        with Locations((14.709354, 74.5606523232)):
            Circle(F0_R, mode=Mode.SUBTRACT)
    extrude(amount=F1_DEPTH)


solid = f1.part
